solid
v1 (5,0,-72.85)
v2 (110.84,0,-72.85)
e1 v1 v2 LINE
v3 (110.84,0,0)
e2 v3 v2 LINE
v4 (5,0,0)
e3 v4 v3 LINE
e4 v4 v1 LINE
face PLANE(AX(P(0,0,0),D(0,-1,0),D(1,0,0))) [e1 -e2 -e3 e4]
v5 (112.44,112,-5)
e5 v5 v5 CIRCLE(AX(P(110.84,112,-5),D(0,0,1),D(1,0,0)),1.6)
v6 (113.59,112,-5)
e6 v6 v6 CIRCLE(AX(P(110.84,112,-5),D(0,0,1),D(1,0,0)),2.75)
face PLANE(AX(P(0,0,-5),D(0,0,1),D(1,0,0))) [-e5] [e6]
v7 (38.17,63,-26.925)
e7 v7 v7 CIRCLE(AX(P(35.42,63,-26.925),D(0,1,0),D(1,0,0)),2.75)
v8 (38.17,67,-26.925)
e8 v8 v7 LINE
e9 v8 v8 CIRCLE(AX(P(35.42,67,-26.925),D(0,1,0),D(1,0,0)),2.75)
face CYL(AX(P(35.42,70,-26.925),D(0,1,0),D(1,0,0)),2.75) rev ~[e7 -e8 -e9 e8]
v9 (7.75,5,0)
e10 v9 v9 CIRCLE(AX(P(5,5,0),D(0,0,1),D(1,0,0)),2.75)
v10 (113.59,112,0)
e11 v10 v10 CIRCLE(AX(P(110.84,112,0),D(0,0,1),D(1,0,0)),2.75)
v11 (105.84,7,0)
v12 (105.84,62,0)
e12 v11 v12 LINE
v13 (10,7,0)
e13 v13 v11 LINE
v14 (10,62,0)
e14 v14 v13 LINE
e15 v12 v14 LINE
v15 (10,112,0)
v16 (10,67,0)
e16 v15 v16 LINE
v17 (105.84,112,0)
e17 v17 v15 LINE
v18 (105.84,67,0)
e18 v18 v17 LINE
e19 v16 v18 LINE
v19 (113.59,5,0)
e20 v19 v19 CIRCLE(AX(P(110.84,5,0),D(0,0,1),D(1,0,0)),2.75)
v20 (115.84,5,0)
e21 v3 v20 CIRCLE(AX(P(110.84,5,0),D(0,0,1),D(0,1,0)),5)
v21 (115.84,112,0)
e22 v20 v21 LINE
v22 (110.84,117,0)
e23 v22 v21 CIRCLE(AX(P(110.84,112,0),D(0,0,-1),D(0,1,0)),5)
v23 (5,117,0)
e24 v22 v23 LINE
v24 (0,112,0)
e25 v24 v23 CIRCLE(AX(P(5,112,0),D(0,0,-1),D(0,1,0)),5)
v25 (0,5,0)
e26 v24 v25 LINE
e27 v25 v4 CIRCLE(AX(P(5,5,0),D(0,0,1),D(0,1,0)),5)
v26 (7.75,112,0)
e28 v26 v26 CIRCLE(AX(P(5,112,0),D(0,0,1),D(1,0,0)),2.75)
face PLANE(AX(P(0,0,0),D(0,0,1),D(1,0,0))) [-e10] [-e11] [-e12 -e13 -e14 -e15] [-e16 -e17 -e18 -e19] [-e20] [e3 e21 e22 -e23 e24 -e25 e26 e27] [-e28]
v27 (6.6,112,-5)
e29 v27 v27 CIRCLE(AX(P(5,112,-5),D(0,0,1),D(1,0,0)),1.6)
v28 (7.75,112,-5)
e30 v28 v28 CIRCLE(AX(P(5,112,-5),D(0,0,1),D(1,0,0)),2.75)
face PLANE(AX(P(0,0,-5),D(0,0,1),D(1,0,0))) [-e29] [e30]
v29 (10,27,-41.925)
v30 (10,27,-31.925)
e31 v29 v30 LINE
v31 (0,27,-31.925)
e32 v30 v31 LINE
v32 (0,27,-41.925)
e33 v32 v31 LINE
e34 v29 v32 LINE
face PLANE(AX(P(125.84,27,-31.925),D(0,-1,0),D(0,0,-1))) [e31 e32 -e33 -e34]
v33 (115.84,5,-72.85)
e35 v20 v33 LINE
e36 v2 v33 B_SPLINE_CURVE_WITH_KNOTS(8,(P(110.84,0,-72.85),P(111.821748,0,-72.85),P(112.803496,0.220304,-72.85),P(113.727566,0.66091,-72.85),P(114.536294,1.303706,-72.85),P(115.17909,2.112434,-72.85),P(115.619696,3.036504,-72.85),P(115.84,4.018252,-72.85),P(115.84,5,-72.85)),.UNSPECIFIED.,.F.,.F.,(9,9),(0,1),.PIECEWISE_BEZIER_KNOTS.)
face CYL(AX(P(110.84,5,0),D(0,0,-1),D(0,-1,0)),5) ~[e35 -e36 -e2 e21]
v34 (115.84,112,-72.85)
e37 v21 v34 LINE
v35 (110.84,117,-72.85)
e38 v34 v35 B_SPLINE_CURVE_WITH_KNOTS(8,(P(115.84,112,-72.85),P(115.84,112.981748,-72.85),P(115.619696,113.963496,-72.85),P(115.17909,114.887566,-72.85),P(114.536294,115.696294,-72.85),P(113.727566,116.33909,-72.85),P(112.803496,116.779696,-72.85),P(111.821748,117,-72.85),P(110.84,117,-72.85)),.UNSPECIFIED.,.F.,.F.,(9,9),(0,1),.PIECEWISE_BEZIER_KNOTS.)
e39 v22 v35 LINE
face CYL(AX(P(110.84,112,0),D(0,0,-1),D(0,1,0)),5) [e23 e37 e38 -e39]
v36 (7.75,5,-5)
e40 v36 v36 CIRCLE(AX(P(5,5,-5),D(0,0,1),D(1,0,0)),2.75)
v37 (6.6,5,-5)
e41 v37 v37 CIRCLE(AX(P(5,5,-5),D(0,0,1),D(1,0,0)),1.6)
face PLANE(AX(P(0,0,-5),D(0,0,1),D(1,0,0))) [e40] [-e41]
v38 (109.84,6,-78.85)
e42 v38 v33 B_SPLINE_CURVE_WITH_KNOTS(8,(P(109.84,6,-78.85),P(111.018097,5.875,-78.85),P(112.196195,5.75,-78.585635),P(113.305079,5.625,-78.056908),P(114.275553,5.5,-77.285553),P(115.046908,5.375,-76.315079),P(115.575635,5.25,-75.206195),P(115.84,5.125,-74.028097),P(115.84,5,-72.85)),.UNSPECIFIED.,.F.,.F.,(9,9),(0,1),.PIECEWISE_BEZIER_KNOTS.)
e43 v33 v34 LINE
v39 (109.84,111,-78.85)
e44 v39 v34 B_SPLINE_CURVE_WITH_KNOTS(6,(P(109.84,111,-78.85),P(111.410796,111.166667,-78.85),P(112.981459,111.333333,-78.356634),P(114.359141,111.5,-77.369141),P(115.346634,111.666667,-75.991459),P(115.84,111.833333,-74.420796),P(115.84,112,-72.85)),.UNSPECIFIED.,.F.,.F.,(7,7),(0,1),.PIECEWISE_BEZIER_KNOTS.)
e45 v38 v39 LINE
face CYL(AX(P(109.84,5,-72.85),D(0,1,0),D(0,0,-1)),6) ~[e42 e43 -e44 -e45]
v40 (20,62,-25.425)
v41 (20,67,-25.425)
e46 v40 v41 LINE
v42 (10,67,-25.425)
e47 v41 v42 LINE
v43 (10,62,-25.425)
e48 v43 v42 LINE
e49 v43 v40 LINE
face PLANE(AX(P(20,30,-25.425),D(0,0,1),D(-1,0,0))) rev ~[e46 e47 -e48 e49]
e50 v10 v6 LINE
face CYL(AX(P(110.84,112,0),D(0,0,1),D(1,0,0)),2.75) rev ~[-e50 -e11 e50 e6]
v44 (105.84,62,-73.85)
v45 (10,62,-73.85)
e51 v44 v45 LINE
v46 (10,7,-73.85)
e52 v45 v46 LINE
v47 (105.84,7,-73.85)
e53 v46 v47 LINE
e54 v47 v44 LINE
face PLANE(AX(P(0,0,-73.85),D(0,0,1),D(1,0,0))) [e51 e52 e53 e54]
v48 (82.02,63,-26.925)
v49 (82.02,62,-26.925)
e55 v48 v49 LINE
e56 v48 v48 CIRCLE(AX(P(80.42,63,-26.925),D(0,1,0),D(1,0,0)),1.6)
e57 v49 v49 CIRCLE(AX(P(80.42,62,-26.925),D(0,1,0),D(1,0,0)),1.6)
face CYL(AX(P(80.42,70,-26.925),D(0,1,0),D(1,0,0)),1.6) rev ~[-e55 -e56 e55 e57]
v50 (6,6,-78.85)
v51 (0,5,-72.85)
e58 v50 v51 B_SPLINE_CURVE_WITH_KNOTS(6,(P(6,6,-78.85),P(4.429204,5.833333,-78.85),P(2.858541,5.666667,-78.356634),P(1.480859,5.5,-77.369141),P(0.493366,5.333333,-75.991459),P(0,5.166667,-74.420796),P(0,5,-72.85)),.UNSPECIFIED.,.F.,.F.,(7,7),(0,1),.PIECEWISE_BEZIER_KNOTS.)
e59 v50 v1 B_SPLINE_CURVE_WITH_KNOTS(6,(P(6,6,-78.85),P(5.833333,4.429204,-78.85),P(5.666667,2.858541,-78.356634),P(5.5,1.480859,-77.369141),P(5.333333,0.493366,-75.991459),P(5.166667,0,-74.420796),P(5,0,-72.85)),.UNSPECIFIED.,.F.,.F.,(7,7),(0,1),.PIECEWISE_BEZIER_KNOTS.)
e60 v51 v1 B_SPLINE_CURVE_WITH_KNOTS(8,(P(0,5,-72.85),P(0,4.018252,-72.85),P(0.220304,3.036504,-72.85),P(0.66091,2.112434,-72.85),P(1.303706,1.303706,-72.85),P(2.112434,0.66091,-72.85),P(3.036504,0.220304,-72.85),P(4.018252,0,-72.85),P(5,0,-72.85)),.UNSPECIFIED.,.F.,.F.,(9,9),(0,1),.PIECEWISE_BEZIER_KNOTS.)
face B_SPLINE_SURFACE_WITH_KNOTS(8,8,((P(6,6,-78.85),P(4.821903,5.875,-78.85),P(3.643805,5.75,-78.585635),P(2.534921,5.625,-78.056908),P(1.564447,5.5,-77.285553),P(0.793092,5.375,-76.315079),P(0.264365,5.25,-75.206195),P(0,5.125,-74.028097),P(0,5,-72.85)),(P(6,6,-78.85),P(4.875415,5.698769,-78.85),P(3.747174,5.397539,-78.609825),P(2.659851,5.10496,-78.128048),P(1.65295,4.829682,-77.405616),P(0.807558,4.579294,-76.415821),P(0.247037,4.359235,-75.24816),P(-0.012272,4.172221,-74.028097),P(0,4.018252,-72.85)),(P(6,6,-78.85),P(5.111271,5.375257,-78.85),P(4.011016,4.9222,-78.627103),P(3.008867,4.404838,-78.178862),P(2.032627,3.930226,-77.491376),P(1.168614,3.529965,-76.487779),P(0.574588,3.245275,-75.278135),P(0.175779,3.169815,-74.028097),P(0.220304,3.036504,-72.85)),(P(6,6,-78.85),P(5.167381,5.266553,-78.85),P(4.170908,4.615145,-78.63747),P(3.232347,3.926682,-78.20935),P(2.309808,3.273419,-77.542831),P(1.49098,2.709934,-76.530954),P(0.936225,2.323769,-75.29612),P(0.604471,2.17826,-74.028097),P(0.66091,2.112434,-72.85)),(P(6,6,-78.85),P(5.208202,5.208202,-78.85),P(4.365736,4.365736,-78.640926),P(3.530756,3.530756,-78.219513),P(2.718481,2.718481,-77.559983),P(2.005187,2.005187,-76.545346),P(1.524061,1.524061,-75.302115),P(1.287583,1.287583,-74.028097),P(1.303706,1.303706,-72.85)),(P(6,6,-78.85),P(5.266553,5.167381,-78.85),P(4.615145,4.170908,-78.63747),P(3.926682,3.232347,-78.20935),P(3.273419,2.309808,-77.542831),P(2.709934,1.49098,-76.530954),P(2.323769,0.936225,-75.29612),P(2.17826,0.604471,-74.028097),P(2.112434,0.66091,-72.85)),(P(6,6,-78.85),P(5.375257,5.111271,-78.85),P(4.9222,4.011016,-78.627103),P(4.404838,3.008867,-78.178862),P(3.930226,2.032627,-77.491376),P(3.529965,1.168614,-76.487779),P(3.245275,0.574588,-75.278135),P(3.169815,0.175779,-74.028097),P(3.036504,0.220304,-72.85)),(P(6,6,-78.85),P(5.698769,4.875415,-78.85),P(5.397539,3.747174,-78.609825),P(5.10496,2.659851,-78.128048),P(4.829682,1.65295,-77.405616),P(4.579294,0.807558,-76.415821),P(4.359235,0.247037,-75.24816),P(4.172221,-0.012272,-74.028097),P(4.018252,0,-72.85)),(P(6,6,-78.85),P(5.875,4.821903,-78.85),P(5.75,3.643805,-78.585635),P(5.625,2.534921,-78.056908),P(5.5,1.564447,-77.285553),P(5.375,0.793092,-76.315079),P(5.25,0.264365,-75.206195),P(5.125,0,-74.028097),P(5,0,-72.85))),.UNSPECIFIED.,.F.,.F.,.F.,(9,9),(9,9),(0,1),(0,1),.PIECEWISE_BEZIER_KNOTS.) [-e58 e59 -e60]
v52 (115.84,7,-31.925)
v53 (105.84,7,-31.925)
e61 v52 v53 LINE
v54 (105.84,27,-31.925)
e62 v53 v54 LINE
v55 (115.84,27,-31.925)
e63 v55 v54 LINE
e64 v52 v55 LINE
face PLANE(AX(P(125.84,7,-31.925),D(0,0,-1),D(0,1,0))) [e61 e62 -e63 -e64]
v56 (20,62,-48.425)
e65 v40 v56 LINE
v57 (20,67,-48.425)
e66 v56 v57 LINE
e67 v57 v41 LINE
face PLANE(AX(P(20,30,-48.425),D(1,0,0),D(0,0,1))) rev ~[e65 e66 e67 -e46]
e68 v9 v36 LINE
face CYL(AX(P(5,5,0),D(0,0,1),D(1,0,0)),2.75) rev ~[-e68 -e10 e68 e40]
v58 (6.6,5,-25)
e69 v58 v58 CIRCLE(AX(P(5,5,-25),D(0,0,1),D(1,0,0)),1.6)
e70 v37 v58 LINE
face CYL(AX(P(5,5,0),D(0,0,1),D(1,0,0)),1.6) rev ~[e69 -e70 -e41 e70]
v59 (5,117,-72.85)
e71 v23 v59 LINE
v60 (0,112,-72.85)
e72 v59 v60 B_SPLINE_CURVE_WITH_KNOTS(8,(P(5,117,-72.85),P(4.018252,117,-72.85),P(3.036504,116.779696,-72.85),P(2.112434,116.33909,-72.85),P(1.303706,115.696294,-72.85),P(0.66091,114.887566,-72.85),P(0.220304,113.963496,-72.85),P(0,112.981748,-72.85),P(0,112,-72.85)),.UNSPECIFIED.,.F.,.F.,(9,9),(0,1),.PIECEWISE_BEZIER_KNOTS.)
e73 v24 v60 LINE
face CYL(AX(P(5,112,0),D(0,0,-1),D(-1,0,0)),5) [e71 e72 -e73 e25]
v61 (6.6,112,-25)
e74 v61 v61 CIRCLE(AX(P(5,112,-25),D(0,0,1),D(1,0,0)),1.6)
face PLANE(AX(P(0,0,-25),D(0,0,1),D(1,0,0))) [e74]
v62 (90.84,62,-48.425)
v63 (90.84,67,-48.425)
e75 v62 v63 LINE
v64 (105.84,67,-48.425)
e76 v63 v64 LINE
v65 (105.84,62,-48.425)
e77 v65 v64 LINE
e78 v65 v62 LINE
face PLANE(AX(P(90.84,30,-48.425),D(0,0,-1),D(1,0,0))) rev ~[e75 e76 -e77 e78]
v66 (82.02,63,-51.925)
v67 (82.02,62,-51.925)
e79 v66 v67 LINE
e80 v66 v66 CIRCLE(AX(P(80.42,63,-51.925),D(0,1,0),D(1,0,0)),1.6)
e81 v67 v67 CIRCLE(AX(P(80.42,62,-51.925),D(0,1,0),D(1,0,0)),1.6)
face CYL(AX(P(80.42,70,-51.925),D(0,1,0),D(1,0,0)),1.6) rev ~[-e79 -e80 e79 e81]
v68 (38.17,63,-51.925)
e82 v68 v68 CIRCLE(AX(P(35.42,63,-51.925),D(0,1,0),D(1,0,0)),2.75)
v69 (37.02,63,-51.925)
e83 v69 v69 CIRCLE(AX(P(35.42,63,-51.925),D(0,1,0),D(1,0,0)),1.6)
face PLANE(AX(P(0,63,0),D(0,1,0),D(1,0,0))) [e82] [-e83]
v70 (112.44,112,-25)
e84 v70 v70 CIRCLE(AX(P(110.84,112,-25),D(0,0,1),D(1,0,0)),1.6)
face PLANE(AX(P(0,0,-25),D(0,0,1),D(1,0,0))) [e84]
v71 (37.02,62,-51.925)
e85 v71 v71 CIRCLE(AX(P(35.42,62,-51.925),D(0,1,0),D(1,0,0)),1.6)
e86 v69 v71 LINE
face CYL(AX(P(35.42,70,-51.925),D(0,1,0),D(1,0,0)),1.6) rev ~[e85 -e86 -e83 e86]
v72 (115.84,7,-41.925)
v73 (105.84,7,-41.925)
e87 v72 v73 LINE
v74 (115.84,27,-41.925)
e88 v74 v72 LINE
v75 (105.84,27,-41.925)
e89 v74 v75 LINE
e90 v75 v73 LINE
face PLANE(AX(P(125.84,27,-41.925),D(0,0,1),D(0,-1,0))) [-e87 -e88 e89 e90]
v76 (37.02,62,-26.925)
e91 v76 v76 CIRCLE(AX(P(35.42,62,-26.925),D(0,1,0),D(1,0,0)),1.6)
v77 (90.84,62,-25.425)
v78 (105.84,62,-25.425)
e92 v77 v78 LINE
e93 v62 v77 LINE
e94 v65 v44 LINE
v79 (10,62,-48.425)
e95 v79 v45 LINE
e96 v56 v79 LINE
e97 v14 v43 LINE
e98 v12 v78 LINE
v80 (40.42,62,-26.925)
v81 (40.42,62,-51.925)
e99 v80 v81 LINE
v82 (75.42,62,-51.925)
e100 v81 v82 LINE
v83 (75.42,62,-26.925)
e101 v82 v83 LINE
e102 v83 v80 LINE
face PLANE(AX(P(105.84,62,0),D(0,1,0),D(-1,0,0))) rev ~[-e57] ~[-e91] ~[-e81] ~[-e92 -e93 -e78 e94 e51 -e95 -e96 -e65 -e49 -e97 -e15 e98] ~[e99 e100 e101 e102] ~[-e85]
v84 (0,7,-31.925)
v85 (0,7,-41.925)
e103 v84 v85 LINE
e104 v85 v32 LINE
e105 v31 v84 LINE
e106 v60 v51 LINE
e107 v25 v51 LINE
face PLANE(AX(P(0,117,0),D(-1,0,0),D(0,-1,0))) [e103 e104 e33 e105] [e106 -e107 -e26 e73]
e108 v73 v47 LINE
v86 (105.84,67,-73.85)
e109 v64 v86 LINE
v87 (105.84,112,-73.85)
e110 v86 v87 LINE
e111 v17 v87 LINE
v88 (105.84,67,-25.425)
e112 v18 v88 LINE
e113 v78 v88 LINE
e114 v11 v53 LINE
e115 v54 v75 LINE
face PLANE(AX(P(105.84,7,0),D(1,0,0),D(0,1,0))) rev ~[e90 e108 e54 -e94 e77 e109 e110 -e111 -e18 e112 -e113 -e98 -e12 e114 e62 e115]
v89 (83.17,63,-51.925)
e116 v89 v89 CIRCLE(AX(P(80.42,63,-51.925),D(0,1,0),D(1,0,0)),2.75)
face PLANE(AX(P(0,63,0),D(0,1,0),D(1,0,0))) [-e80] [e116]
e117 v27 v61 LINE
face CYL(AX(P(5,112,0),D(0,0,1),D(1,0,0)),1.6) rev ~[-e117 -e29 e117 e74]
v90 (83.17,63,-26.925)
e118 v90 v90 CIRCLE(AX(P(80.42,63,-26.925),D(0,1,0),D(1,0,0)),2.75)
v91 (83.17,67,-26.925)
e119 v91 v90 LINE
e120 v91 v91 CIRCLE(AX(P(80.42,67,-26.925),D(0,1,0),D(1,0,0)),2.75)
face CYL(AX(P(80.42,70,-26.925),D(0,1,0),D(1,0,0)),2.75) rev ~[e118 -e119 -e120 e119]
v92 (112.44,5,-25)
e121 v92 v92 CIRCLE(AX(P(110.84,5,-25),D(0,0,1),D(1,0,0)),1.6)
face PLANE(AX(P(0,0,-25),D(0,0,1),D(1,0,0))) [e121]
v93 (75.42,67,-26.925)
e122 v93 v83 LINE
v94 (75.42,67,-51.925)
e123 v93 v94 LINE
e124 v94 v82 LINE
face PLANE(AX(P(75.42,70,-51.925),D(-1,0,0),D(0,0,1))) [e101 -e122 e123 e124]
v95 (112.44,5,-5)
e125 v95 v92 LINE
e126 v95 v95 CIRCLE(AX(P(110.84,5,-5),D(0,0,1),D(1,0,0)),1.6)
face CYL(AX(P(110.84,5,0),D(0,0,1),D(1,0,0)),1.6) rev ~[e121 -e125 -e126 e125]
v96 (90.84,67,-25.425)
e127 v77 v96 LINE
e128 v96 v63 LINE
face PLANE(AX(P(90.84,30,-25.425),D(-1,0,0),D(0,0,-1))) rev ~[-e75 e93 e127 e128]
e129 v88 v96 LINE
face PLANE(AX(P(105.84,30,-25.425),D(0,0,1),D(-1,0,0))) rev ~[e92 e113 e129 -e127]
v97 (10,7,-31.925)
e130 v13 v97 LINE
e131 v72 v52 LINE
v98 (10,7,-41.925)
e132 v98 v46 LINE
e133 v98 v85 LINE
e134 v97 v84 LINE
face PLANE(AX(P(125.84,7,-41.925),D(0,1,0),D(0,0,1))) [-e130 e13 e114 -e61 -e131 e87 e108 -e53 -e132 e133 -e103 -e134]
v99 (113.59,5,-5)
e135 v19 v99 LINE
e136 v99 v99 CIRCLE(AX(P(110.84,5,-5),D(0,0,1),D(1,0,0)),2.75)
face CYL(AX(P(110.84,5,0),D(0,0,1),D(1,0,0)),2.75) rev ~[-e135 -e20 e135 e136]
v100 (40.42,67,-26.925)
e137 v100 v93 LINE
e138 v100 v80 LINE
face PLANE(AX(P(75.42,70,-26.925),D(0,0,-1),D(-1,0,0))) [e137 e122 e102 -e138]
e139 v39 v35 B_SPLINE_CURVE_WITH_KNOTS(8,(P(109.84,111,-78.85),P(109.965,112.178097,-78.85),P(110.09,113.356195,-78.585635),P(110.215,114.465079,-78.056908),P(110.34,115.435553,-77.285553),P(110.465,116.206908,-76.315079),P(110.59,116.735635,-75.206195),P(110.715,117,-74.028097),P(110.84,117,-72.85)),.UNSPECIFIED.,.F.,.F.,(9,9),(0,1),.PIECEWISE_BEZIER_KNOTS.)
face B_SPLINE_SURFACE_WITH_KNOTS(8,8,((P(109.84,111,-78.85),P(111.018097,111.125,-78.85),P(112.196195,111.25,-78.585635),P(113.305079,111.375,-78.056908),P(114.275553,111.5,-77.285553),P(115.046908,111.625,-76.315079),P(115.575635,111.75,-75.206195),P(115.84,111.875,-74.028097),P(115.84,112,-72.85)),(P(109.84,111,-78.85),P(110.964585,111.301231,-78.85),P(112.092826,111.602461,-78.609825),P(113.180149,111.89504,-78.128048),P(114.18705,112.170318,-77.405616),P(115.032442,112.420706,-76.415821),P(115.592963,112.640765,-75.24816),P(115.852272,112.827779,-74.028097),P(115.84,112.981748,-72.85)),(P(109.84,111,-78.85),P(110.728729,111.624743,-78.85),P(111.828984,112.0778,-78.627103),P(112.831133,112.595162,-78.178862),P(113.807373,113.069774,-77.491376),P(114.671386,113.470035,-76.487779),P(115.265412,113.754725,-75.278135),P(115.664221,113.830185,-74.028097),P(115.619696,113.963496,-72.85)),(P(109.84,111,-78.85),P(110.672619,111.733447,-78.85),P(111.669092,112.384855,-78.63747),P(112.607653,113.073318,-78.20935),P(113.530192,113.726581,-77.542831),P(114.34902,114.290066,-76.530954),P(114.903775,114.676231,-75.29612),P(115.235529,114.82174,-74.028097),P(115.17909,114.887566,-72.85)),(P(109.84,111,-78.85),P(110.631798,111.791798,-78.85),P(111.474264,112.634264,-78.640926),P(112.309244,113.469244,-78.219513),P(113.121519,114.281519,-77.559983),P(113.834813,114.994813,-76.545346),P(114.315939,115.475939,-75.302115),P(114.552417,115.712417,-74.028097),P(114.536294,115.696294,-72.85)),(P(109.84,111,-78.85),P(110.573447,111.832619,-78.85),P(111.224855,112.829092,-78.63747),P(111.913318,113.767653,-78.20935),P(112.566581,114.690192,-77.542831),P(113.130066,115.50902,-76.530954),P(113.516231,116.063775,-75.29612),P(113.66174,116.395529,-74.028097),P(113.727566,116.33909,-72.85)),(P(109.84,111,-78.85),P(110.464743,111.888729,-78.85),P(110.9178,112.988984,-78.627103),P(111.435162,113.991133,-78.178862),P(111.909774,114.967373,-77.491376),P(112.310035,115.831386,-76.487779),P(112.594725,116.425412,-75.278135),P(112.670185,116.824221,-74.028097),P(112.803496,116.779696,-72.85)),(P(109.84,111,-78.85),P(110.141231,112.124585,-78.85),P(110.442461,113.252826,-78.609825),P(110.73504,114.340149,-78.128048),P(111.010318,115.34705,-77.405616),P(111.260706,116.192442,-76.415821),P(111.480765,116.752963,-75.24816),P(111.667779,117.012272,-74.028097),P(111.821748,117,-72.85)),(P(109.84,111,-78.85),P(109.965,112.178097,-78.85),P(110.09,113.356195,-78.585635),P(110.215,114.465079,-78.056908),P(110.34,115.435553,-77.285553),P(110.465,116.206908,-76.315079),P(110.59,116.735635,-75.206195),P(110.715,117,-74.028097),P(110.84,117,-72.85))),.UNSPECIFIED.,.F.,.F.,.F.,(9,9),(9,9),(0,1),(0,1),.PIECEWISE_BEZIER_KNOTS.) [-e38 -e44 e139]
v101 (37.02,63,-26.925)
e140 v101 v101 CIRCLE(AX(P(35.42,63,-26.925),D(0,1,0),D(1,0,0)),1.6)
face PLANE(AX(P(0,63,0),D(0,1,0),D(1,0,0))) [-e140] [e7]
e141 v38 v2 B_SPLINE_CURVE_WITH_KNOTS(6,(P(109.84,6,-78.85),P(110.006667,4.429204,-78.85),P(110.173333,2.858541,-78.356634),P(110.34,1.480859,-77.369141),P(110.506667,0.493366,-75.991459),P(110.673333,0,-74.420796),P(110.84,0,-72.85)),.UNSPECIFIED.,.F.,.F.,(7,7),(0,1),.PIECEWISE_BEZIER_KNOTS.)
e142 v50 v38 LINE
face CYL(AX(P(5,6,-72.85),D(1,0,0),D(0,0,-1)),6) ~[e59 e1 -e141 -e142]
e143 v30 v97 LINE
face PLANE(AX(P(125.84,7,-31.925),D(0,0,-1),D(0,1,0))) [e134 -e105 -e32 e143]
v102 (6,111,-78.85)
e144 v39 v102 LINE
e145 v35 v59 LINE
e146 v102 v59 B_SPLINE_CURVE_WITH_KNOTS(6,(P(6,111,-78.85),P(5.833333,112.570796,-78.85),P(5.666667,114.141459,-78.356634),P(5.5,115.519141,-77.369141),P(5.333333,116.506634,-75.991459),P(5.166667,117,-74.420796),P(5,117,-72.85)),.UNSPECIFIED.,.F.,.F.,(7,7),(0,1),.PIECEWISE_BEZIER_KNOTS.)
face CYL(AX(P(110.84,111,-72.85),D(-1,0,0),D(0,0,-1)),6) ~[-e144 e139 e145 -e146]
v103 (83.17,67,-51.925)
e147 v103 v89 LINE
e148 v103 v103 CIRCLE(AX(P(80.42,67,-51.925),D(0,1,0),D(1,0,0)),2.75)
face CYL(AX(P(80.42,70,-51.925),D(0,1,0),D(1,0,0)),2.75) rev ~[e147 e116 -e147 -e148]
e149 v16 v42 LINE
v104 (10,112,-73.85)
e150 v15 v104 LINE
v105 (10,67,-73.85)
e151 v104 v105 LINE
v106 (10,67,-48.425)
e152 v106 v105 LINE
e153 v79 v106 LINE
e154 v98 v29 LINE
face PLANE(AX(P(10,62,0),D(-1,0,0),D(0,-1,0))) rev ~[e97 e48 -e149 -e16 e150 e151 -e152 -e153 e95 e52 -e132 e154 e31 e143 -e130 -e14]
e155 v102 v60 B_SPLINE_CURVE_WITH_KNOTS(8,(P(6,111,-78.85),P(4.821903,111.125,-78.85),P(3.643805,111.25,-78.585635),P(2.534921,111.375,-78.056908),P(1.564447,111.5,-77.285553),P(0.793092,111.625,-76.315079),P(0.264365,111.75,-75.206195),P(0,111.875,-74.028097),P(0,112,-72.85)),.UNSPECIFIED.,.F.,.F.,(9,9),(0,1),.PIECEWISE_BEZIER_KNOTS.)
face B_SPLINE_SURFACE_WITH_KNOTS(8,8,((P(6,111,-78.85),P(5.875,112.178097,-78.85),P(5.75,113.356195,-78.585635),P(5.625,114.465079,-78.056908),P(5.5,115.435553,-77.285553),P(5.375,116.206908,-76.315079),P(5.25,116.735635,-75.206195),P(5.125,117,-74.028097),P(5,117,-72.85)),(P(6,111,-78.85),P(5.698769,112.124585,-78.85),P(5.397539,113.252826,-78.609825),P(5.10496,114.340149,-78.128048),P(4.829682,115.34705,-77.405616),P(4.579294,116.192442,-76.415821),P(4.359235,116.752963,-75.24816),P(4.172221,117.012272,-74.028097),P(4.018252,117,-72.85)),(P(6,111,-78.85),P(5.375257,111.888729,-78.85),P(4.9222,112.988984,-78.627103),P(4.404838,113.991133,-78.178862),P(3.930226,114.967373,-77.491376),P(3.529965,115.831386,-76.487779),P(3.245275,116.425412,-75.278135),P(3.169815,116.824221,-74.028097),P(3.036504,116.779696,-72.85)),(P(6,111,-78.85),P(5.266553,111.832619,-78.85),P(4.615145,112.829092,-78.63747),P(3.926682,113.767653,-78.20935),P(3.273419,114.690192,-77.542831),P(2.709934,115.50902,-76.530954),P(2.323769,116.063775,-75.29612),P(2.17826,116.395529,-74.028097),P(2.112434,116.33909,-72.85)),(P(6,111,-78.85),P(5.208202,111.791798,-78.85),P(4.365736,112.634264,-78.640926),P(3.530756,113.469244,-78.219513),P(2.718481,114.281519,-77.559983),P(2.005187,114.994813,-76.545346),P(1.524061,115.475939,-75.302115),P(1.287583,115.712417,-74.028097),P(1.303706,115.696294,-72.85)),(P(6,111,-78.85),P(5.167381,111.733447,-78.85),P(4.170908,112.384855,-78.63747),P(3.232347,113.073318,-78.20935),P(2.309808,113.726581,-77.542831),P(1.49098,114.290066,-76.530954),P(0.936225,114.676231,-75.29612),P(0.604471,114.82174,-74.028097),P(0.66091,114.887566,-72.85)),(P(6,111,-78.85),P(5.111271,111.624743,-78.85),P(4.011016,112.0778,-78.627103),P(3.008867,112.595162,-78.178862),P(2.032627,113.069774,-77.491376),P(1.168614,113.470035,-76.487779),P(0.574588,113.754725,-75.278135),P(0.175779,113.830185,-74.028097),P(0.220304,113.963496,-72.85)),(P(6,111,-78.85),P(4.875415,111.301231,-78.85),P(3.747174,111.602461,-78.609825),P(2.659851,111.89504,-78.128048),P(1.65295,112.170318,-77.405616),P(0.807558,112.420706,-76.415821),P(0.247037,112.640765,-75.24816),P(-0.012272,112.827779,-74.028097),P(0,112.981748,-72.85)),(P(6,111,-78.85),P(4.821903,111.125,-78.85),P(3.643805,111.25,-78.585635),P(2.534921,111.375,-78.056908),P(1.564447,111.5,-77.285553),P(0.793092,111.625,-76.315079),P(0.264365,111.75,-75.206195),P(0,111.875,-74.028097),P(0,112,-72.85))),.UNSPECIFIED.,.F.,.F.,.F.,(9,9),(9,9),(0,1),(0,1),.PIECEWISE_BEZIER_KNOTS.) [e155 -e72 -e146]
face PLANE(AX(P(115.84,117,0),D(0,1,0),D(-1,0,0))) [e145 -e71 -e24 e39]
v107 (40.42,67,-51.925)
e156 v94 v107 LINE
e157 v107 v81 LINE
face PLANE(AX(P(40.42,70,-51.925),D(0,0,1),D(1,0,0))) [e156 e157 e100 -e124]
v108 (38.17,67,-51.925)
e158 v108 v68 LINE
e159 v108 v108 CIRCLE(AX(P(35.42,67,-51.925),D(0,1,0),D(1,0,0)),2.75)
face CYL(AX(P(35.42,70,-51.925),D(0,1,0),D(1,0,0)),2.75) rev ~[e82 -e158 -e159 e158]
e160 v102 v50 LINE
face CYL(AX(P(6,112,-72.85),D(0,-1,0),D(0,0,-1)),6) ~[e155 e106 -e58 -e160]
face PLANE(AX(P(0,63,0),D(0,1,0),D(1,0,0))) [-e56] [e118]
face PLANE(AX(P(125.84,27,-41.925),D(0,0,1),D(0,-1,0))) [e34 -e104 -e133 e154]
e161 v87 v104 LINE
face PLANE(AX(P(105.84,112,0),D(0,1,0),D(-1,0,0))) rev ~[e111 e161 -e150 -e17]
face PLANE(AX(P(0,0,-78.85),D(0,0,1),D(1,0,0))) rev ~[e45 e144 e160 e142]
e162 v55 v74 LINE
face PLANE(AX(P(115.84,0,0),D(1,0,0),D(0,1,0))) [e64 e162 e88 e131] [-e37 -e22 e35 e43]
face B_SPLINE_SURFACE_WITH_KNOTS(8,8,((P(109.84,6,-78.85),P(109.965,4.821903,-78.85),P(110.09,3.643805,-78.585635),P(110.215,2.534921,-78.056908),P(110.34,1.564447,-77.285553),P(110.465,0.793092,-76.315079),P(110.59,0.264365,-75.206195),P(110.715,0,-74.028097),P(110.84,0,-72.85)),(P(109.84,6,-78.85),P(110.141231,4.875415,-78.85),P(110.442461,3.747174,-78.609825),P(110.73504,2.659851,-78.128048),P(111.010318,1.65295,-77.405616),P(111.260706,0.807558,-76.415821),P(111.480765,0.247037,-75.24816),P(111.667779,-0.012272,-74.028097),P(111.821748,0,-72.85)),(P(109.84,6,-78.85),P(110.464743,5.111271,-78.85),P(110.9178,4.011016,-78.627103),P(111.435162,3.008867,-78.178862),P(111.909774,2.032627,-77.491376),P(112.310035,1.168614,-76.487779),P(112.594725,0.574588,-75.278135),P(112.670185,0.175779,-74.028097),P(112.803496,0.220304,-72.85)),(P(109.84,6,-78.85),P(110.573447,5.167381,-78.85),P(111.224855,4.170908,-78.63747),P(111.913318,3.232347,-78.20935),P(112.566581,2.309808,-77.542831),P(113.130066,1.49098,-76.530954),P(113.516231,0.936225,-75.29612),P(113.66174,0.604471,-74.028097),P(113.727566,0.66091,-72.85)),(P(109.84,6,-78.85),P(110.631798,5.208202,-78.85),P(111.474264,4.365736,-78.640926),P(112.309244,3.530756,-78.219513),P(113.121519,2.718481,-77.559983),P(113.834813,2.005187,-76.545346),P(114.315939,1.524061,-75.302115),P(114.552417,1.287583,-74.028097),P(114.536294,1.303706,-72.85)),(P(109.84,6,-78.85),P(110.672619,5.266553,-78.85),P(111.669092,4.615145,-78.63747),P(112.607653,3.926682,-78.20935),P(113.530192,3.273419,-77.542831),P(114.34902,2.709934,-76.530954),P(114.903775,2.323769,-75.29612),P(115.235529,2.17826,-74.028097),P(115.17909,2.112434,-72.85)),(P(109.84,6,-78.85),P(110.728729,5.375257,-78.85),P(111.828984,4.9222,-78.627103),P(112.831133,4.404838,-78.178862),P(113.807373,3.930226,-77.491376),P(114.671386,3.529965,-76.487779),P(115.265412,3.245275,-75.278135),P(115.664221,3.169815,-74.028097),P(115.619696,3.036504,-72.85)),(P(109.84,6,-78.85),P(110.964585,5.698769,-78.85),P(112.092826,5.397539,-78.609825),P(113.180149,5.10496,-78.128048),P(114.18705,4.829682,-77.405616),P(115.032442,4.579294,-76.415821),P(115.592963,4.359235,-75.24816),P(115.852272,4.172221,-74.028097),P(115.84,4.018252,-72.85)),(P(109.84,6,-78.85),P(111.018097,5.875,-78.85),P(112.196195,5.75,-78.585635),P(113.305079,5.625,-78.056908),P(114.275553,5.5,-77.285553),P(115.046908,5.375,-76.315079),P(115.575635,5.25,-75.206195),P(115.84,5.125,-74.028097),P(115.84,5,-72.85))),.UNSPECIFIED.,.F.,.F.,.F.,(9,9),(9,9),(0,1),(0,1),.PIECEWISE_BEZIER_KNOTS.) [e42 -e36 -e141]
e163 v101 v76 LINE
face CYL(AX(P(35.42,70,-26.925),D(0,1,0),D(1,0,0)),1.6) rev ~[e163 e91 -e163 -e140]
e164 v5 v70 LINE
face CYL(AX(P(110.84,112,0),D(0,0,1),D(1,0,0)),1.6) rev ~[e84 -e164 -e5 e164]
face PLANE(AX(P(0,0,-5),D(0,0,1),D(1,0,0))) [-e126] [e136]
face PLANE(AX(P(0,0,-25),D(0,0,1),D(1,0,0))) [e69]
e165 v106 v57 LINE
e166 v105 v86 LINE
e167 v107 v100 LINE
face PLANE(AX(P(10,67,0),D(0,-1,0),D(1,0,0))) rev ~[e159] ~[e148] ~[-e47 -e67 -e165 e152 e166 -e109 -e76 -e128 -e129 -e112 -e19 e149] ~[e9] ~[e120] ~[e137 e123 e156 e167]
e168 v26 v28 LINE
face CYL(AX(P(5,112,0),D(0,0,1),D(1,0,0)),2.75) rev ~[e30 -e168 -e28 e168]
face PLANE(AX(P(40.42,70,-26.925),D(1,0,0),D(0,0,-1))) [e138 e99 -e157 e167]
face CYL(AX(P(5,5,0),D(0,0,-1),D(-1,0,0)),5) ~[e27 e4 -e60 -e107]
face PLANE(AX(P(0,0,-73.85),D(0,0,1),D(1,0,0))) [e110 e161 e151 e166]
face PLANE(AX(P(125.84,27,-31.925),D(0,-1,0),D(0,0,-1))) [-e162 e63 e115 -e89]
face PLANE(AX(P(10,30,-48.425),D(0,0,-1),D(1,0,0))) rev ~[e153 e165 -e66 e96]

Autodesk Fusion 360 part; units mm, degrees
sketch "Sketch1" plane through (0, 0, 0) normal (0, 0, 1) x (1, 0, 0)
  line L0 (0, 0) -> (115.84, 0)
  line L1 (115.84, 0) -> (115.84, 117)
  line L2 (115.84, 117) -> (0, 117)
  line L3 (0, 117) -> (0, 0)
  line L4 (10, 7) -> (105.84, 7)
  line L5 (105.84, 7) -> (105.84, 112)
  line L6 (105.84, 112) -> (10, 112)
  line L7 (10, 112) -> (10, 7)
  line L8 (10, 67) -> (105.84, 67)
  line L9 (105.84, 67) -> (105.84, 62)
  line L10 (105.84, 62) -> (10, 62)
  line L11 (10, 62) -> (10, 67)
  circle A0 centre (5, 112) radius 2.75
  circle A1 centre (5, 5) radius 2.75
  circle A2 centre (110.84, 5) radius 2.75
  circle A3 centre (110.84, 112) radius 2.75
  circle A4 centre (5, 112) radius 1.6
  circle A5 centre (5, 5) radius 1.6
  circle A6 centre (110.84, 5) radius 1.6
  circle A7 centre (110.84, 112) radius 1.6
  dimension "d1" = 115.84
  dimension "d2" = 117
  dimension "d3" = 95.84
  dimension "d4" = 105
  dimension "d5" = 5
  dimension "d6" = 10
  dimension "d7" = 5
  dimension "d8" = 55
  dimension "d43" = 5.5
  dimension "d44" = 5
  dimension "d45" = 5
  dimension "d46" = 5.5
  dimension "d47" = 5
  dimension "d48" = 5
  dimension "d49" = 5.5
  dimension "d50" = 5
  dimension "d51" = 5
  dimension "d52" = 5.5
  dimension "d53" = 5
  dimension "d54" = 5
  dimension "d88" = 3.2
  dimension "d89" = 3.2
  dimension "d90" = 3.2
  dimension "d91" = 3.2
extrude "Extrude1" add sketch "Sketch1" against normal blind 78.85 contours L0 L1 L2 L3 | L4 L5 L7 L10 | L5 L7 L8 L9 L10 L11 | L5 L6 L7 L8 | A0 | A1 | A2 | A3 | A4 | A5 | A6 | A7
extrude "Extrude2" cut sketch "Sketch1" against normal blind 73.85 contours L4 L5 L7 L10 | L5 L6 L7 L8
extrude "Extrude7" cut sketch "Sketch1" against normal blind 5 contours A0 | A1 | A2 | A3 | A4 | A5 | A6 | A7
extrude "Extrude11" cut sketch "Sketch1" against normal blind 25 contours A4 | A5 | A6 | A7
ref_plane "WorkPlane1" through (0, 30, 0) normal (0, 1, 0) x (0, 0, 1)
sketch "Sketch2" plane through (0, 30, 0) normal (0, 1, 0) x (1, 0, 0)
  line L0 (10, 48.425) -> (20, 48.425)
  line L1 (20, 48.425) -> (20, 25.425)
  line L2 (20, 25.425) -> (10, 25.425)
  line L3 (10, 25.425) -> (10, 48.425)
  line L4 (115.84, 0) -> (0, 0)
  line L5 (105.84, 25.425) -> (90.84, 25.425)
  line L6 (90.84, 25.425) -> (90.84, 48.425)
  line L7 (90.84, 48.425) -> (105.84, 48.425)
  line L8 (105.84, 48.425) -> (105.84, 25.425)
  line L9 (0, 0) -> (0, 78.85)
  line L10 (115.84, 0) -> (115.84, 78.85)
  dimension "d14" = 10
  dimension "d15" = 23
  dimension "d16" = 25.425
  dimension "d17" = 15
  dimension "d18" = 23
  dimension "d19" = 25.425
  dimension "d20" = 10
  dimension "d21" = 10
extrude "Extrude3" cut sketch "Sketch2" along normal blind 60
ref_plane "WorkPlane2" through (125.84, 58.5, -39.425) normal (1, 0, 0) x (0, -1, 0)
sketch "Sketch3" plane through (125.84, 0, 0) normal (1, 0, 0) x (0, 0, -1)
  line L0 (31.925, 27) -> (41.925, 27)
  line L1 (41.925, 27) -> (41.925, 7)
  line L2 (41.925, 7) -> (31.925, 7)
  line L3 (31.925, 7) -> (31.925, 27)
  line L4 (0, 0) -> (78.85, 0)
  line L5 (0, 0) -> (0, 117)
  dimension "d25" = 10
  dimension "d26" = 20
  dimension "d27" = 7
  dimension "d28" = 31.925
extrude "Extrude4" cut sketch "Sketch3" against normal blind 160
fillet "Fillet1" radius 5 4 edges at (115.84, 117, -39.425) (0, 117, -39.425) (115.84, 0, -39.425) (0, 0, -39.425)
ref_plane "WorkPlane3" through (0, 70, 0) normal (0, 1, 0) x (0, 0, 1)
sketch "Sketch4" plane through (0, 70, 0) normal (0, 1, 0) x (1, 0, 0)
  line L0 (30.42, 56.925) -> (85.42, 56.925)
  line L1 (85.42, 56.925) -> (85.42, 21.925)
  line L2 (85.42, 21.925) -> (30.42, 21.925)
  line L3 (30.42, 21.925) -> (30.42, 56.925)
  line L4 (40.42, 51.925) -> (75.42, 51.925)
  line L5 (75.42, 51.925) -> (75.42, 26.925)
  line L6 (75.42, 26.925) -> (40.42, 26.925)
  line L7 (40.42, 26.925) -> (40.42, 51.925)
  circle A0 centre (35.42, 51.925) radius 2.75
  circle A1 centre (35.42, 26.925) radius 2.75
  circle A2 centre (80.42, 51.925) radius 2.75
  circle A3 centre (80.42, 26.925) radius 2.75
  line L8 (115.84, 0) -> (0, 0)
  line L9 (115.84, 0) -> (115.84, 78.85)
  circle A4 centre (35.42, 26.925) radius 1.6
  circle A5 centre (35.42, 51.925) radius 1.6
  circle A6 centre (80.42, 51.925) radius 1.6
  circle A7 centre (80.42, 26.925) radius 1.6
  dimension "d58" = 55
  dimension "d59" = 35
  dimension "d60" = 35
  dimension "d61" = 25
  dimension "d62" = 10
  dimension "d63" = 5
  dimension "d64" = 5.5
  dimension "d65" = 5
  dimension "d66" = 5
  dimension "d67" = 5.5
  dimension "d68" = 5
  dimension "d69" = 5
  dimension "d70" = 5.5
  dimension "d71" = 5
  dimension "d72" = 5
  dimension "d73" = 5.5
  dimension "d74" = 5
  dimension "d75" = 5
  dimension "d76" = 21.925
  dimension "d77" = 30.42
  dimension "d82" = 3.2
  dimension "d83" = 3.2
  dimension "d84" = 3.2
  dimension "d85" = 3.2
extrude "Extrude8" cut sketch "Sketch4" against normal blind 15 contours L4 L5 L6 L7
extrude "Extrude9" cut sketch "Sketch4" against normal blind 7 contours A0 | A1 | A2 | A3 | A4 | A5 | A6 | A7
extrude "Extrude10" cut sketch "Sketch4" against normal blind 15 contours A4 | A5 | A6 | A7
fillet "Fillet5" radius 6 8 edges at (57.92, 0, -78.85) (114.3755, 1.4645, -78.85) (115.84, 58.5, -78.85) (114.3755, 115.5355, -78.85) (57.92, 117, -78.85) (1.4645, 115.5355, -78.85) (0, 58.5, -78.85) (1.4645, 1.4645, -78.85)
